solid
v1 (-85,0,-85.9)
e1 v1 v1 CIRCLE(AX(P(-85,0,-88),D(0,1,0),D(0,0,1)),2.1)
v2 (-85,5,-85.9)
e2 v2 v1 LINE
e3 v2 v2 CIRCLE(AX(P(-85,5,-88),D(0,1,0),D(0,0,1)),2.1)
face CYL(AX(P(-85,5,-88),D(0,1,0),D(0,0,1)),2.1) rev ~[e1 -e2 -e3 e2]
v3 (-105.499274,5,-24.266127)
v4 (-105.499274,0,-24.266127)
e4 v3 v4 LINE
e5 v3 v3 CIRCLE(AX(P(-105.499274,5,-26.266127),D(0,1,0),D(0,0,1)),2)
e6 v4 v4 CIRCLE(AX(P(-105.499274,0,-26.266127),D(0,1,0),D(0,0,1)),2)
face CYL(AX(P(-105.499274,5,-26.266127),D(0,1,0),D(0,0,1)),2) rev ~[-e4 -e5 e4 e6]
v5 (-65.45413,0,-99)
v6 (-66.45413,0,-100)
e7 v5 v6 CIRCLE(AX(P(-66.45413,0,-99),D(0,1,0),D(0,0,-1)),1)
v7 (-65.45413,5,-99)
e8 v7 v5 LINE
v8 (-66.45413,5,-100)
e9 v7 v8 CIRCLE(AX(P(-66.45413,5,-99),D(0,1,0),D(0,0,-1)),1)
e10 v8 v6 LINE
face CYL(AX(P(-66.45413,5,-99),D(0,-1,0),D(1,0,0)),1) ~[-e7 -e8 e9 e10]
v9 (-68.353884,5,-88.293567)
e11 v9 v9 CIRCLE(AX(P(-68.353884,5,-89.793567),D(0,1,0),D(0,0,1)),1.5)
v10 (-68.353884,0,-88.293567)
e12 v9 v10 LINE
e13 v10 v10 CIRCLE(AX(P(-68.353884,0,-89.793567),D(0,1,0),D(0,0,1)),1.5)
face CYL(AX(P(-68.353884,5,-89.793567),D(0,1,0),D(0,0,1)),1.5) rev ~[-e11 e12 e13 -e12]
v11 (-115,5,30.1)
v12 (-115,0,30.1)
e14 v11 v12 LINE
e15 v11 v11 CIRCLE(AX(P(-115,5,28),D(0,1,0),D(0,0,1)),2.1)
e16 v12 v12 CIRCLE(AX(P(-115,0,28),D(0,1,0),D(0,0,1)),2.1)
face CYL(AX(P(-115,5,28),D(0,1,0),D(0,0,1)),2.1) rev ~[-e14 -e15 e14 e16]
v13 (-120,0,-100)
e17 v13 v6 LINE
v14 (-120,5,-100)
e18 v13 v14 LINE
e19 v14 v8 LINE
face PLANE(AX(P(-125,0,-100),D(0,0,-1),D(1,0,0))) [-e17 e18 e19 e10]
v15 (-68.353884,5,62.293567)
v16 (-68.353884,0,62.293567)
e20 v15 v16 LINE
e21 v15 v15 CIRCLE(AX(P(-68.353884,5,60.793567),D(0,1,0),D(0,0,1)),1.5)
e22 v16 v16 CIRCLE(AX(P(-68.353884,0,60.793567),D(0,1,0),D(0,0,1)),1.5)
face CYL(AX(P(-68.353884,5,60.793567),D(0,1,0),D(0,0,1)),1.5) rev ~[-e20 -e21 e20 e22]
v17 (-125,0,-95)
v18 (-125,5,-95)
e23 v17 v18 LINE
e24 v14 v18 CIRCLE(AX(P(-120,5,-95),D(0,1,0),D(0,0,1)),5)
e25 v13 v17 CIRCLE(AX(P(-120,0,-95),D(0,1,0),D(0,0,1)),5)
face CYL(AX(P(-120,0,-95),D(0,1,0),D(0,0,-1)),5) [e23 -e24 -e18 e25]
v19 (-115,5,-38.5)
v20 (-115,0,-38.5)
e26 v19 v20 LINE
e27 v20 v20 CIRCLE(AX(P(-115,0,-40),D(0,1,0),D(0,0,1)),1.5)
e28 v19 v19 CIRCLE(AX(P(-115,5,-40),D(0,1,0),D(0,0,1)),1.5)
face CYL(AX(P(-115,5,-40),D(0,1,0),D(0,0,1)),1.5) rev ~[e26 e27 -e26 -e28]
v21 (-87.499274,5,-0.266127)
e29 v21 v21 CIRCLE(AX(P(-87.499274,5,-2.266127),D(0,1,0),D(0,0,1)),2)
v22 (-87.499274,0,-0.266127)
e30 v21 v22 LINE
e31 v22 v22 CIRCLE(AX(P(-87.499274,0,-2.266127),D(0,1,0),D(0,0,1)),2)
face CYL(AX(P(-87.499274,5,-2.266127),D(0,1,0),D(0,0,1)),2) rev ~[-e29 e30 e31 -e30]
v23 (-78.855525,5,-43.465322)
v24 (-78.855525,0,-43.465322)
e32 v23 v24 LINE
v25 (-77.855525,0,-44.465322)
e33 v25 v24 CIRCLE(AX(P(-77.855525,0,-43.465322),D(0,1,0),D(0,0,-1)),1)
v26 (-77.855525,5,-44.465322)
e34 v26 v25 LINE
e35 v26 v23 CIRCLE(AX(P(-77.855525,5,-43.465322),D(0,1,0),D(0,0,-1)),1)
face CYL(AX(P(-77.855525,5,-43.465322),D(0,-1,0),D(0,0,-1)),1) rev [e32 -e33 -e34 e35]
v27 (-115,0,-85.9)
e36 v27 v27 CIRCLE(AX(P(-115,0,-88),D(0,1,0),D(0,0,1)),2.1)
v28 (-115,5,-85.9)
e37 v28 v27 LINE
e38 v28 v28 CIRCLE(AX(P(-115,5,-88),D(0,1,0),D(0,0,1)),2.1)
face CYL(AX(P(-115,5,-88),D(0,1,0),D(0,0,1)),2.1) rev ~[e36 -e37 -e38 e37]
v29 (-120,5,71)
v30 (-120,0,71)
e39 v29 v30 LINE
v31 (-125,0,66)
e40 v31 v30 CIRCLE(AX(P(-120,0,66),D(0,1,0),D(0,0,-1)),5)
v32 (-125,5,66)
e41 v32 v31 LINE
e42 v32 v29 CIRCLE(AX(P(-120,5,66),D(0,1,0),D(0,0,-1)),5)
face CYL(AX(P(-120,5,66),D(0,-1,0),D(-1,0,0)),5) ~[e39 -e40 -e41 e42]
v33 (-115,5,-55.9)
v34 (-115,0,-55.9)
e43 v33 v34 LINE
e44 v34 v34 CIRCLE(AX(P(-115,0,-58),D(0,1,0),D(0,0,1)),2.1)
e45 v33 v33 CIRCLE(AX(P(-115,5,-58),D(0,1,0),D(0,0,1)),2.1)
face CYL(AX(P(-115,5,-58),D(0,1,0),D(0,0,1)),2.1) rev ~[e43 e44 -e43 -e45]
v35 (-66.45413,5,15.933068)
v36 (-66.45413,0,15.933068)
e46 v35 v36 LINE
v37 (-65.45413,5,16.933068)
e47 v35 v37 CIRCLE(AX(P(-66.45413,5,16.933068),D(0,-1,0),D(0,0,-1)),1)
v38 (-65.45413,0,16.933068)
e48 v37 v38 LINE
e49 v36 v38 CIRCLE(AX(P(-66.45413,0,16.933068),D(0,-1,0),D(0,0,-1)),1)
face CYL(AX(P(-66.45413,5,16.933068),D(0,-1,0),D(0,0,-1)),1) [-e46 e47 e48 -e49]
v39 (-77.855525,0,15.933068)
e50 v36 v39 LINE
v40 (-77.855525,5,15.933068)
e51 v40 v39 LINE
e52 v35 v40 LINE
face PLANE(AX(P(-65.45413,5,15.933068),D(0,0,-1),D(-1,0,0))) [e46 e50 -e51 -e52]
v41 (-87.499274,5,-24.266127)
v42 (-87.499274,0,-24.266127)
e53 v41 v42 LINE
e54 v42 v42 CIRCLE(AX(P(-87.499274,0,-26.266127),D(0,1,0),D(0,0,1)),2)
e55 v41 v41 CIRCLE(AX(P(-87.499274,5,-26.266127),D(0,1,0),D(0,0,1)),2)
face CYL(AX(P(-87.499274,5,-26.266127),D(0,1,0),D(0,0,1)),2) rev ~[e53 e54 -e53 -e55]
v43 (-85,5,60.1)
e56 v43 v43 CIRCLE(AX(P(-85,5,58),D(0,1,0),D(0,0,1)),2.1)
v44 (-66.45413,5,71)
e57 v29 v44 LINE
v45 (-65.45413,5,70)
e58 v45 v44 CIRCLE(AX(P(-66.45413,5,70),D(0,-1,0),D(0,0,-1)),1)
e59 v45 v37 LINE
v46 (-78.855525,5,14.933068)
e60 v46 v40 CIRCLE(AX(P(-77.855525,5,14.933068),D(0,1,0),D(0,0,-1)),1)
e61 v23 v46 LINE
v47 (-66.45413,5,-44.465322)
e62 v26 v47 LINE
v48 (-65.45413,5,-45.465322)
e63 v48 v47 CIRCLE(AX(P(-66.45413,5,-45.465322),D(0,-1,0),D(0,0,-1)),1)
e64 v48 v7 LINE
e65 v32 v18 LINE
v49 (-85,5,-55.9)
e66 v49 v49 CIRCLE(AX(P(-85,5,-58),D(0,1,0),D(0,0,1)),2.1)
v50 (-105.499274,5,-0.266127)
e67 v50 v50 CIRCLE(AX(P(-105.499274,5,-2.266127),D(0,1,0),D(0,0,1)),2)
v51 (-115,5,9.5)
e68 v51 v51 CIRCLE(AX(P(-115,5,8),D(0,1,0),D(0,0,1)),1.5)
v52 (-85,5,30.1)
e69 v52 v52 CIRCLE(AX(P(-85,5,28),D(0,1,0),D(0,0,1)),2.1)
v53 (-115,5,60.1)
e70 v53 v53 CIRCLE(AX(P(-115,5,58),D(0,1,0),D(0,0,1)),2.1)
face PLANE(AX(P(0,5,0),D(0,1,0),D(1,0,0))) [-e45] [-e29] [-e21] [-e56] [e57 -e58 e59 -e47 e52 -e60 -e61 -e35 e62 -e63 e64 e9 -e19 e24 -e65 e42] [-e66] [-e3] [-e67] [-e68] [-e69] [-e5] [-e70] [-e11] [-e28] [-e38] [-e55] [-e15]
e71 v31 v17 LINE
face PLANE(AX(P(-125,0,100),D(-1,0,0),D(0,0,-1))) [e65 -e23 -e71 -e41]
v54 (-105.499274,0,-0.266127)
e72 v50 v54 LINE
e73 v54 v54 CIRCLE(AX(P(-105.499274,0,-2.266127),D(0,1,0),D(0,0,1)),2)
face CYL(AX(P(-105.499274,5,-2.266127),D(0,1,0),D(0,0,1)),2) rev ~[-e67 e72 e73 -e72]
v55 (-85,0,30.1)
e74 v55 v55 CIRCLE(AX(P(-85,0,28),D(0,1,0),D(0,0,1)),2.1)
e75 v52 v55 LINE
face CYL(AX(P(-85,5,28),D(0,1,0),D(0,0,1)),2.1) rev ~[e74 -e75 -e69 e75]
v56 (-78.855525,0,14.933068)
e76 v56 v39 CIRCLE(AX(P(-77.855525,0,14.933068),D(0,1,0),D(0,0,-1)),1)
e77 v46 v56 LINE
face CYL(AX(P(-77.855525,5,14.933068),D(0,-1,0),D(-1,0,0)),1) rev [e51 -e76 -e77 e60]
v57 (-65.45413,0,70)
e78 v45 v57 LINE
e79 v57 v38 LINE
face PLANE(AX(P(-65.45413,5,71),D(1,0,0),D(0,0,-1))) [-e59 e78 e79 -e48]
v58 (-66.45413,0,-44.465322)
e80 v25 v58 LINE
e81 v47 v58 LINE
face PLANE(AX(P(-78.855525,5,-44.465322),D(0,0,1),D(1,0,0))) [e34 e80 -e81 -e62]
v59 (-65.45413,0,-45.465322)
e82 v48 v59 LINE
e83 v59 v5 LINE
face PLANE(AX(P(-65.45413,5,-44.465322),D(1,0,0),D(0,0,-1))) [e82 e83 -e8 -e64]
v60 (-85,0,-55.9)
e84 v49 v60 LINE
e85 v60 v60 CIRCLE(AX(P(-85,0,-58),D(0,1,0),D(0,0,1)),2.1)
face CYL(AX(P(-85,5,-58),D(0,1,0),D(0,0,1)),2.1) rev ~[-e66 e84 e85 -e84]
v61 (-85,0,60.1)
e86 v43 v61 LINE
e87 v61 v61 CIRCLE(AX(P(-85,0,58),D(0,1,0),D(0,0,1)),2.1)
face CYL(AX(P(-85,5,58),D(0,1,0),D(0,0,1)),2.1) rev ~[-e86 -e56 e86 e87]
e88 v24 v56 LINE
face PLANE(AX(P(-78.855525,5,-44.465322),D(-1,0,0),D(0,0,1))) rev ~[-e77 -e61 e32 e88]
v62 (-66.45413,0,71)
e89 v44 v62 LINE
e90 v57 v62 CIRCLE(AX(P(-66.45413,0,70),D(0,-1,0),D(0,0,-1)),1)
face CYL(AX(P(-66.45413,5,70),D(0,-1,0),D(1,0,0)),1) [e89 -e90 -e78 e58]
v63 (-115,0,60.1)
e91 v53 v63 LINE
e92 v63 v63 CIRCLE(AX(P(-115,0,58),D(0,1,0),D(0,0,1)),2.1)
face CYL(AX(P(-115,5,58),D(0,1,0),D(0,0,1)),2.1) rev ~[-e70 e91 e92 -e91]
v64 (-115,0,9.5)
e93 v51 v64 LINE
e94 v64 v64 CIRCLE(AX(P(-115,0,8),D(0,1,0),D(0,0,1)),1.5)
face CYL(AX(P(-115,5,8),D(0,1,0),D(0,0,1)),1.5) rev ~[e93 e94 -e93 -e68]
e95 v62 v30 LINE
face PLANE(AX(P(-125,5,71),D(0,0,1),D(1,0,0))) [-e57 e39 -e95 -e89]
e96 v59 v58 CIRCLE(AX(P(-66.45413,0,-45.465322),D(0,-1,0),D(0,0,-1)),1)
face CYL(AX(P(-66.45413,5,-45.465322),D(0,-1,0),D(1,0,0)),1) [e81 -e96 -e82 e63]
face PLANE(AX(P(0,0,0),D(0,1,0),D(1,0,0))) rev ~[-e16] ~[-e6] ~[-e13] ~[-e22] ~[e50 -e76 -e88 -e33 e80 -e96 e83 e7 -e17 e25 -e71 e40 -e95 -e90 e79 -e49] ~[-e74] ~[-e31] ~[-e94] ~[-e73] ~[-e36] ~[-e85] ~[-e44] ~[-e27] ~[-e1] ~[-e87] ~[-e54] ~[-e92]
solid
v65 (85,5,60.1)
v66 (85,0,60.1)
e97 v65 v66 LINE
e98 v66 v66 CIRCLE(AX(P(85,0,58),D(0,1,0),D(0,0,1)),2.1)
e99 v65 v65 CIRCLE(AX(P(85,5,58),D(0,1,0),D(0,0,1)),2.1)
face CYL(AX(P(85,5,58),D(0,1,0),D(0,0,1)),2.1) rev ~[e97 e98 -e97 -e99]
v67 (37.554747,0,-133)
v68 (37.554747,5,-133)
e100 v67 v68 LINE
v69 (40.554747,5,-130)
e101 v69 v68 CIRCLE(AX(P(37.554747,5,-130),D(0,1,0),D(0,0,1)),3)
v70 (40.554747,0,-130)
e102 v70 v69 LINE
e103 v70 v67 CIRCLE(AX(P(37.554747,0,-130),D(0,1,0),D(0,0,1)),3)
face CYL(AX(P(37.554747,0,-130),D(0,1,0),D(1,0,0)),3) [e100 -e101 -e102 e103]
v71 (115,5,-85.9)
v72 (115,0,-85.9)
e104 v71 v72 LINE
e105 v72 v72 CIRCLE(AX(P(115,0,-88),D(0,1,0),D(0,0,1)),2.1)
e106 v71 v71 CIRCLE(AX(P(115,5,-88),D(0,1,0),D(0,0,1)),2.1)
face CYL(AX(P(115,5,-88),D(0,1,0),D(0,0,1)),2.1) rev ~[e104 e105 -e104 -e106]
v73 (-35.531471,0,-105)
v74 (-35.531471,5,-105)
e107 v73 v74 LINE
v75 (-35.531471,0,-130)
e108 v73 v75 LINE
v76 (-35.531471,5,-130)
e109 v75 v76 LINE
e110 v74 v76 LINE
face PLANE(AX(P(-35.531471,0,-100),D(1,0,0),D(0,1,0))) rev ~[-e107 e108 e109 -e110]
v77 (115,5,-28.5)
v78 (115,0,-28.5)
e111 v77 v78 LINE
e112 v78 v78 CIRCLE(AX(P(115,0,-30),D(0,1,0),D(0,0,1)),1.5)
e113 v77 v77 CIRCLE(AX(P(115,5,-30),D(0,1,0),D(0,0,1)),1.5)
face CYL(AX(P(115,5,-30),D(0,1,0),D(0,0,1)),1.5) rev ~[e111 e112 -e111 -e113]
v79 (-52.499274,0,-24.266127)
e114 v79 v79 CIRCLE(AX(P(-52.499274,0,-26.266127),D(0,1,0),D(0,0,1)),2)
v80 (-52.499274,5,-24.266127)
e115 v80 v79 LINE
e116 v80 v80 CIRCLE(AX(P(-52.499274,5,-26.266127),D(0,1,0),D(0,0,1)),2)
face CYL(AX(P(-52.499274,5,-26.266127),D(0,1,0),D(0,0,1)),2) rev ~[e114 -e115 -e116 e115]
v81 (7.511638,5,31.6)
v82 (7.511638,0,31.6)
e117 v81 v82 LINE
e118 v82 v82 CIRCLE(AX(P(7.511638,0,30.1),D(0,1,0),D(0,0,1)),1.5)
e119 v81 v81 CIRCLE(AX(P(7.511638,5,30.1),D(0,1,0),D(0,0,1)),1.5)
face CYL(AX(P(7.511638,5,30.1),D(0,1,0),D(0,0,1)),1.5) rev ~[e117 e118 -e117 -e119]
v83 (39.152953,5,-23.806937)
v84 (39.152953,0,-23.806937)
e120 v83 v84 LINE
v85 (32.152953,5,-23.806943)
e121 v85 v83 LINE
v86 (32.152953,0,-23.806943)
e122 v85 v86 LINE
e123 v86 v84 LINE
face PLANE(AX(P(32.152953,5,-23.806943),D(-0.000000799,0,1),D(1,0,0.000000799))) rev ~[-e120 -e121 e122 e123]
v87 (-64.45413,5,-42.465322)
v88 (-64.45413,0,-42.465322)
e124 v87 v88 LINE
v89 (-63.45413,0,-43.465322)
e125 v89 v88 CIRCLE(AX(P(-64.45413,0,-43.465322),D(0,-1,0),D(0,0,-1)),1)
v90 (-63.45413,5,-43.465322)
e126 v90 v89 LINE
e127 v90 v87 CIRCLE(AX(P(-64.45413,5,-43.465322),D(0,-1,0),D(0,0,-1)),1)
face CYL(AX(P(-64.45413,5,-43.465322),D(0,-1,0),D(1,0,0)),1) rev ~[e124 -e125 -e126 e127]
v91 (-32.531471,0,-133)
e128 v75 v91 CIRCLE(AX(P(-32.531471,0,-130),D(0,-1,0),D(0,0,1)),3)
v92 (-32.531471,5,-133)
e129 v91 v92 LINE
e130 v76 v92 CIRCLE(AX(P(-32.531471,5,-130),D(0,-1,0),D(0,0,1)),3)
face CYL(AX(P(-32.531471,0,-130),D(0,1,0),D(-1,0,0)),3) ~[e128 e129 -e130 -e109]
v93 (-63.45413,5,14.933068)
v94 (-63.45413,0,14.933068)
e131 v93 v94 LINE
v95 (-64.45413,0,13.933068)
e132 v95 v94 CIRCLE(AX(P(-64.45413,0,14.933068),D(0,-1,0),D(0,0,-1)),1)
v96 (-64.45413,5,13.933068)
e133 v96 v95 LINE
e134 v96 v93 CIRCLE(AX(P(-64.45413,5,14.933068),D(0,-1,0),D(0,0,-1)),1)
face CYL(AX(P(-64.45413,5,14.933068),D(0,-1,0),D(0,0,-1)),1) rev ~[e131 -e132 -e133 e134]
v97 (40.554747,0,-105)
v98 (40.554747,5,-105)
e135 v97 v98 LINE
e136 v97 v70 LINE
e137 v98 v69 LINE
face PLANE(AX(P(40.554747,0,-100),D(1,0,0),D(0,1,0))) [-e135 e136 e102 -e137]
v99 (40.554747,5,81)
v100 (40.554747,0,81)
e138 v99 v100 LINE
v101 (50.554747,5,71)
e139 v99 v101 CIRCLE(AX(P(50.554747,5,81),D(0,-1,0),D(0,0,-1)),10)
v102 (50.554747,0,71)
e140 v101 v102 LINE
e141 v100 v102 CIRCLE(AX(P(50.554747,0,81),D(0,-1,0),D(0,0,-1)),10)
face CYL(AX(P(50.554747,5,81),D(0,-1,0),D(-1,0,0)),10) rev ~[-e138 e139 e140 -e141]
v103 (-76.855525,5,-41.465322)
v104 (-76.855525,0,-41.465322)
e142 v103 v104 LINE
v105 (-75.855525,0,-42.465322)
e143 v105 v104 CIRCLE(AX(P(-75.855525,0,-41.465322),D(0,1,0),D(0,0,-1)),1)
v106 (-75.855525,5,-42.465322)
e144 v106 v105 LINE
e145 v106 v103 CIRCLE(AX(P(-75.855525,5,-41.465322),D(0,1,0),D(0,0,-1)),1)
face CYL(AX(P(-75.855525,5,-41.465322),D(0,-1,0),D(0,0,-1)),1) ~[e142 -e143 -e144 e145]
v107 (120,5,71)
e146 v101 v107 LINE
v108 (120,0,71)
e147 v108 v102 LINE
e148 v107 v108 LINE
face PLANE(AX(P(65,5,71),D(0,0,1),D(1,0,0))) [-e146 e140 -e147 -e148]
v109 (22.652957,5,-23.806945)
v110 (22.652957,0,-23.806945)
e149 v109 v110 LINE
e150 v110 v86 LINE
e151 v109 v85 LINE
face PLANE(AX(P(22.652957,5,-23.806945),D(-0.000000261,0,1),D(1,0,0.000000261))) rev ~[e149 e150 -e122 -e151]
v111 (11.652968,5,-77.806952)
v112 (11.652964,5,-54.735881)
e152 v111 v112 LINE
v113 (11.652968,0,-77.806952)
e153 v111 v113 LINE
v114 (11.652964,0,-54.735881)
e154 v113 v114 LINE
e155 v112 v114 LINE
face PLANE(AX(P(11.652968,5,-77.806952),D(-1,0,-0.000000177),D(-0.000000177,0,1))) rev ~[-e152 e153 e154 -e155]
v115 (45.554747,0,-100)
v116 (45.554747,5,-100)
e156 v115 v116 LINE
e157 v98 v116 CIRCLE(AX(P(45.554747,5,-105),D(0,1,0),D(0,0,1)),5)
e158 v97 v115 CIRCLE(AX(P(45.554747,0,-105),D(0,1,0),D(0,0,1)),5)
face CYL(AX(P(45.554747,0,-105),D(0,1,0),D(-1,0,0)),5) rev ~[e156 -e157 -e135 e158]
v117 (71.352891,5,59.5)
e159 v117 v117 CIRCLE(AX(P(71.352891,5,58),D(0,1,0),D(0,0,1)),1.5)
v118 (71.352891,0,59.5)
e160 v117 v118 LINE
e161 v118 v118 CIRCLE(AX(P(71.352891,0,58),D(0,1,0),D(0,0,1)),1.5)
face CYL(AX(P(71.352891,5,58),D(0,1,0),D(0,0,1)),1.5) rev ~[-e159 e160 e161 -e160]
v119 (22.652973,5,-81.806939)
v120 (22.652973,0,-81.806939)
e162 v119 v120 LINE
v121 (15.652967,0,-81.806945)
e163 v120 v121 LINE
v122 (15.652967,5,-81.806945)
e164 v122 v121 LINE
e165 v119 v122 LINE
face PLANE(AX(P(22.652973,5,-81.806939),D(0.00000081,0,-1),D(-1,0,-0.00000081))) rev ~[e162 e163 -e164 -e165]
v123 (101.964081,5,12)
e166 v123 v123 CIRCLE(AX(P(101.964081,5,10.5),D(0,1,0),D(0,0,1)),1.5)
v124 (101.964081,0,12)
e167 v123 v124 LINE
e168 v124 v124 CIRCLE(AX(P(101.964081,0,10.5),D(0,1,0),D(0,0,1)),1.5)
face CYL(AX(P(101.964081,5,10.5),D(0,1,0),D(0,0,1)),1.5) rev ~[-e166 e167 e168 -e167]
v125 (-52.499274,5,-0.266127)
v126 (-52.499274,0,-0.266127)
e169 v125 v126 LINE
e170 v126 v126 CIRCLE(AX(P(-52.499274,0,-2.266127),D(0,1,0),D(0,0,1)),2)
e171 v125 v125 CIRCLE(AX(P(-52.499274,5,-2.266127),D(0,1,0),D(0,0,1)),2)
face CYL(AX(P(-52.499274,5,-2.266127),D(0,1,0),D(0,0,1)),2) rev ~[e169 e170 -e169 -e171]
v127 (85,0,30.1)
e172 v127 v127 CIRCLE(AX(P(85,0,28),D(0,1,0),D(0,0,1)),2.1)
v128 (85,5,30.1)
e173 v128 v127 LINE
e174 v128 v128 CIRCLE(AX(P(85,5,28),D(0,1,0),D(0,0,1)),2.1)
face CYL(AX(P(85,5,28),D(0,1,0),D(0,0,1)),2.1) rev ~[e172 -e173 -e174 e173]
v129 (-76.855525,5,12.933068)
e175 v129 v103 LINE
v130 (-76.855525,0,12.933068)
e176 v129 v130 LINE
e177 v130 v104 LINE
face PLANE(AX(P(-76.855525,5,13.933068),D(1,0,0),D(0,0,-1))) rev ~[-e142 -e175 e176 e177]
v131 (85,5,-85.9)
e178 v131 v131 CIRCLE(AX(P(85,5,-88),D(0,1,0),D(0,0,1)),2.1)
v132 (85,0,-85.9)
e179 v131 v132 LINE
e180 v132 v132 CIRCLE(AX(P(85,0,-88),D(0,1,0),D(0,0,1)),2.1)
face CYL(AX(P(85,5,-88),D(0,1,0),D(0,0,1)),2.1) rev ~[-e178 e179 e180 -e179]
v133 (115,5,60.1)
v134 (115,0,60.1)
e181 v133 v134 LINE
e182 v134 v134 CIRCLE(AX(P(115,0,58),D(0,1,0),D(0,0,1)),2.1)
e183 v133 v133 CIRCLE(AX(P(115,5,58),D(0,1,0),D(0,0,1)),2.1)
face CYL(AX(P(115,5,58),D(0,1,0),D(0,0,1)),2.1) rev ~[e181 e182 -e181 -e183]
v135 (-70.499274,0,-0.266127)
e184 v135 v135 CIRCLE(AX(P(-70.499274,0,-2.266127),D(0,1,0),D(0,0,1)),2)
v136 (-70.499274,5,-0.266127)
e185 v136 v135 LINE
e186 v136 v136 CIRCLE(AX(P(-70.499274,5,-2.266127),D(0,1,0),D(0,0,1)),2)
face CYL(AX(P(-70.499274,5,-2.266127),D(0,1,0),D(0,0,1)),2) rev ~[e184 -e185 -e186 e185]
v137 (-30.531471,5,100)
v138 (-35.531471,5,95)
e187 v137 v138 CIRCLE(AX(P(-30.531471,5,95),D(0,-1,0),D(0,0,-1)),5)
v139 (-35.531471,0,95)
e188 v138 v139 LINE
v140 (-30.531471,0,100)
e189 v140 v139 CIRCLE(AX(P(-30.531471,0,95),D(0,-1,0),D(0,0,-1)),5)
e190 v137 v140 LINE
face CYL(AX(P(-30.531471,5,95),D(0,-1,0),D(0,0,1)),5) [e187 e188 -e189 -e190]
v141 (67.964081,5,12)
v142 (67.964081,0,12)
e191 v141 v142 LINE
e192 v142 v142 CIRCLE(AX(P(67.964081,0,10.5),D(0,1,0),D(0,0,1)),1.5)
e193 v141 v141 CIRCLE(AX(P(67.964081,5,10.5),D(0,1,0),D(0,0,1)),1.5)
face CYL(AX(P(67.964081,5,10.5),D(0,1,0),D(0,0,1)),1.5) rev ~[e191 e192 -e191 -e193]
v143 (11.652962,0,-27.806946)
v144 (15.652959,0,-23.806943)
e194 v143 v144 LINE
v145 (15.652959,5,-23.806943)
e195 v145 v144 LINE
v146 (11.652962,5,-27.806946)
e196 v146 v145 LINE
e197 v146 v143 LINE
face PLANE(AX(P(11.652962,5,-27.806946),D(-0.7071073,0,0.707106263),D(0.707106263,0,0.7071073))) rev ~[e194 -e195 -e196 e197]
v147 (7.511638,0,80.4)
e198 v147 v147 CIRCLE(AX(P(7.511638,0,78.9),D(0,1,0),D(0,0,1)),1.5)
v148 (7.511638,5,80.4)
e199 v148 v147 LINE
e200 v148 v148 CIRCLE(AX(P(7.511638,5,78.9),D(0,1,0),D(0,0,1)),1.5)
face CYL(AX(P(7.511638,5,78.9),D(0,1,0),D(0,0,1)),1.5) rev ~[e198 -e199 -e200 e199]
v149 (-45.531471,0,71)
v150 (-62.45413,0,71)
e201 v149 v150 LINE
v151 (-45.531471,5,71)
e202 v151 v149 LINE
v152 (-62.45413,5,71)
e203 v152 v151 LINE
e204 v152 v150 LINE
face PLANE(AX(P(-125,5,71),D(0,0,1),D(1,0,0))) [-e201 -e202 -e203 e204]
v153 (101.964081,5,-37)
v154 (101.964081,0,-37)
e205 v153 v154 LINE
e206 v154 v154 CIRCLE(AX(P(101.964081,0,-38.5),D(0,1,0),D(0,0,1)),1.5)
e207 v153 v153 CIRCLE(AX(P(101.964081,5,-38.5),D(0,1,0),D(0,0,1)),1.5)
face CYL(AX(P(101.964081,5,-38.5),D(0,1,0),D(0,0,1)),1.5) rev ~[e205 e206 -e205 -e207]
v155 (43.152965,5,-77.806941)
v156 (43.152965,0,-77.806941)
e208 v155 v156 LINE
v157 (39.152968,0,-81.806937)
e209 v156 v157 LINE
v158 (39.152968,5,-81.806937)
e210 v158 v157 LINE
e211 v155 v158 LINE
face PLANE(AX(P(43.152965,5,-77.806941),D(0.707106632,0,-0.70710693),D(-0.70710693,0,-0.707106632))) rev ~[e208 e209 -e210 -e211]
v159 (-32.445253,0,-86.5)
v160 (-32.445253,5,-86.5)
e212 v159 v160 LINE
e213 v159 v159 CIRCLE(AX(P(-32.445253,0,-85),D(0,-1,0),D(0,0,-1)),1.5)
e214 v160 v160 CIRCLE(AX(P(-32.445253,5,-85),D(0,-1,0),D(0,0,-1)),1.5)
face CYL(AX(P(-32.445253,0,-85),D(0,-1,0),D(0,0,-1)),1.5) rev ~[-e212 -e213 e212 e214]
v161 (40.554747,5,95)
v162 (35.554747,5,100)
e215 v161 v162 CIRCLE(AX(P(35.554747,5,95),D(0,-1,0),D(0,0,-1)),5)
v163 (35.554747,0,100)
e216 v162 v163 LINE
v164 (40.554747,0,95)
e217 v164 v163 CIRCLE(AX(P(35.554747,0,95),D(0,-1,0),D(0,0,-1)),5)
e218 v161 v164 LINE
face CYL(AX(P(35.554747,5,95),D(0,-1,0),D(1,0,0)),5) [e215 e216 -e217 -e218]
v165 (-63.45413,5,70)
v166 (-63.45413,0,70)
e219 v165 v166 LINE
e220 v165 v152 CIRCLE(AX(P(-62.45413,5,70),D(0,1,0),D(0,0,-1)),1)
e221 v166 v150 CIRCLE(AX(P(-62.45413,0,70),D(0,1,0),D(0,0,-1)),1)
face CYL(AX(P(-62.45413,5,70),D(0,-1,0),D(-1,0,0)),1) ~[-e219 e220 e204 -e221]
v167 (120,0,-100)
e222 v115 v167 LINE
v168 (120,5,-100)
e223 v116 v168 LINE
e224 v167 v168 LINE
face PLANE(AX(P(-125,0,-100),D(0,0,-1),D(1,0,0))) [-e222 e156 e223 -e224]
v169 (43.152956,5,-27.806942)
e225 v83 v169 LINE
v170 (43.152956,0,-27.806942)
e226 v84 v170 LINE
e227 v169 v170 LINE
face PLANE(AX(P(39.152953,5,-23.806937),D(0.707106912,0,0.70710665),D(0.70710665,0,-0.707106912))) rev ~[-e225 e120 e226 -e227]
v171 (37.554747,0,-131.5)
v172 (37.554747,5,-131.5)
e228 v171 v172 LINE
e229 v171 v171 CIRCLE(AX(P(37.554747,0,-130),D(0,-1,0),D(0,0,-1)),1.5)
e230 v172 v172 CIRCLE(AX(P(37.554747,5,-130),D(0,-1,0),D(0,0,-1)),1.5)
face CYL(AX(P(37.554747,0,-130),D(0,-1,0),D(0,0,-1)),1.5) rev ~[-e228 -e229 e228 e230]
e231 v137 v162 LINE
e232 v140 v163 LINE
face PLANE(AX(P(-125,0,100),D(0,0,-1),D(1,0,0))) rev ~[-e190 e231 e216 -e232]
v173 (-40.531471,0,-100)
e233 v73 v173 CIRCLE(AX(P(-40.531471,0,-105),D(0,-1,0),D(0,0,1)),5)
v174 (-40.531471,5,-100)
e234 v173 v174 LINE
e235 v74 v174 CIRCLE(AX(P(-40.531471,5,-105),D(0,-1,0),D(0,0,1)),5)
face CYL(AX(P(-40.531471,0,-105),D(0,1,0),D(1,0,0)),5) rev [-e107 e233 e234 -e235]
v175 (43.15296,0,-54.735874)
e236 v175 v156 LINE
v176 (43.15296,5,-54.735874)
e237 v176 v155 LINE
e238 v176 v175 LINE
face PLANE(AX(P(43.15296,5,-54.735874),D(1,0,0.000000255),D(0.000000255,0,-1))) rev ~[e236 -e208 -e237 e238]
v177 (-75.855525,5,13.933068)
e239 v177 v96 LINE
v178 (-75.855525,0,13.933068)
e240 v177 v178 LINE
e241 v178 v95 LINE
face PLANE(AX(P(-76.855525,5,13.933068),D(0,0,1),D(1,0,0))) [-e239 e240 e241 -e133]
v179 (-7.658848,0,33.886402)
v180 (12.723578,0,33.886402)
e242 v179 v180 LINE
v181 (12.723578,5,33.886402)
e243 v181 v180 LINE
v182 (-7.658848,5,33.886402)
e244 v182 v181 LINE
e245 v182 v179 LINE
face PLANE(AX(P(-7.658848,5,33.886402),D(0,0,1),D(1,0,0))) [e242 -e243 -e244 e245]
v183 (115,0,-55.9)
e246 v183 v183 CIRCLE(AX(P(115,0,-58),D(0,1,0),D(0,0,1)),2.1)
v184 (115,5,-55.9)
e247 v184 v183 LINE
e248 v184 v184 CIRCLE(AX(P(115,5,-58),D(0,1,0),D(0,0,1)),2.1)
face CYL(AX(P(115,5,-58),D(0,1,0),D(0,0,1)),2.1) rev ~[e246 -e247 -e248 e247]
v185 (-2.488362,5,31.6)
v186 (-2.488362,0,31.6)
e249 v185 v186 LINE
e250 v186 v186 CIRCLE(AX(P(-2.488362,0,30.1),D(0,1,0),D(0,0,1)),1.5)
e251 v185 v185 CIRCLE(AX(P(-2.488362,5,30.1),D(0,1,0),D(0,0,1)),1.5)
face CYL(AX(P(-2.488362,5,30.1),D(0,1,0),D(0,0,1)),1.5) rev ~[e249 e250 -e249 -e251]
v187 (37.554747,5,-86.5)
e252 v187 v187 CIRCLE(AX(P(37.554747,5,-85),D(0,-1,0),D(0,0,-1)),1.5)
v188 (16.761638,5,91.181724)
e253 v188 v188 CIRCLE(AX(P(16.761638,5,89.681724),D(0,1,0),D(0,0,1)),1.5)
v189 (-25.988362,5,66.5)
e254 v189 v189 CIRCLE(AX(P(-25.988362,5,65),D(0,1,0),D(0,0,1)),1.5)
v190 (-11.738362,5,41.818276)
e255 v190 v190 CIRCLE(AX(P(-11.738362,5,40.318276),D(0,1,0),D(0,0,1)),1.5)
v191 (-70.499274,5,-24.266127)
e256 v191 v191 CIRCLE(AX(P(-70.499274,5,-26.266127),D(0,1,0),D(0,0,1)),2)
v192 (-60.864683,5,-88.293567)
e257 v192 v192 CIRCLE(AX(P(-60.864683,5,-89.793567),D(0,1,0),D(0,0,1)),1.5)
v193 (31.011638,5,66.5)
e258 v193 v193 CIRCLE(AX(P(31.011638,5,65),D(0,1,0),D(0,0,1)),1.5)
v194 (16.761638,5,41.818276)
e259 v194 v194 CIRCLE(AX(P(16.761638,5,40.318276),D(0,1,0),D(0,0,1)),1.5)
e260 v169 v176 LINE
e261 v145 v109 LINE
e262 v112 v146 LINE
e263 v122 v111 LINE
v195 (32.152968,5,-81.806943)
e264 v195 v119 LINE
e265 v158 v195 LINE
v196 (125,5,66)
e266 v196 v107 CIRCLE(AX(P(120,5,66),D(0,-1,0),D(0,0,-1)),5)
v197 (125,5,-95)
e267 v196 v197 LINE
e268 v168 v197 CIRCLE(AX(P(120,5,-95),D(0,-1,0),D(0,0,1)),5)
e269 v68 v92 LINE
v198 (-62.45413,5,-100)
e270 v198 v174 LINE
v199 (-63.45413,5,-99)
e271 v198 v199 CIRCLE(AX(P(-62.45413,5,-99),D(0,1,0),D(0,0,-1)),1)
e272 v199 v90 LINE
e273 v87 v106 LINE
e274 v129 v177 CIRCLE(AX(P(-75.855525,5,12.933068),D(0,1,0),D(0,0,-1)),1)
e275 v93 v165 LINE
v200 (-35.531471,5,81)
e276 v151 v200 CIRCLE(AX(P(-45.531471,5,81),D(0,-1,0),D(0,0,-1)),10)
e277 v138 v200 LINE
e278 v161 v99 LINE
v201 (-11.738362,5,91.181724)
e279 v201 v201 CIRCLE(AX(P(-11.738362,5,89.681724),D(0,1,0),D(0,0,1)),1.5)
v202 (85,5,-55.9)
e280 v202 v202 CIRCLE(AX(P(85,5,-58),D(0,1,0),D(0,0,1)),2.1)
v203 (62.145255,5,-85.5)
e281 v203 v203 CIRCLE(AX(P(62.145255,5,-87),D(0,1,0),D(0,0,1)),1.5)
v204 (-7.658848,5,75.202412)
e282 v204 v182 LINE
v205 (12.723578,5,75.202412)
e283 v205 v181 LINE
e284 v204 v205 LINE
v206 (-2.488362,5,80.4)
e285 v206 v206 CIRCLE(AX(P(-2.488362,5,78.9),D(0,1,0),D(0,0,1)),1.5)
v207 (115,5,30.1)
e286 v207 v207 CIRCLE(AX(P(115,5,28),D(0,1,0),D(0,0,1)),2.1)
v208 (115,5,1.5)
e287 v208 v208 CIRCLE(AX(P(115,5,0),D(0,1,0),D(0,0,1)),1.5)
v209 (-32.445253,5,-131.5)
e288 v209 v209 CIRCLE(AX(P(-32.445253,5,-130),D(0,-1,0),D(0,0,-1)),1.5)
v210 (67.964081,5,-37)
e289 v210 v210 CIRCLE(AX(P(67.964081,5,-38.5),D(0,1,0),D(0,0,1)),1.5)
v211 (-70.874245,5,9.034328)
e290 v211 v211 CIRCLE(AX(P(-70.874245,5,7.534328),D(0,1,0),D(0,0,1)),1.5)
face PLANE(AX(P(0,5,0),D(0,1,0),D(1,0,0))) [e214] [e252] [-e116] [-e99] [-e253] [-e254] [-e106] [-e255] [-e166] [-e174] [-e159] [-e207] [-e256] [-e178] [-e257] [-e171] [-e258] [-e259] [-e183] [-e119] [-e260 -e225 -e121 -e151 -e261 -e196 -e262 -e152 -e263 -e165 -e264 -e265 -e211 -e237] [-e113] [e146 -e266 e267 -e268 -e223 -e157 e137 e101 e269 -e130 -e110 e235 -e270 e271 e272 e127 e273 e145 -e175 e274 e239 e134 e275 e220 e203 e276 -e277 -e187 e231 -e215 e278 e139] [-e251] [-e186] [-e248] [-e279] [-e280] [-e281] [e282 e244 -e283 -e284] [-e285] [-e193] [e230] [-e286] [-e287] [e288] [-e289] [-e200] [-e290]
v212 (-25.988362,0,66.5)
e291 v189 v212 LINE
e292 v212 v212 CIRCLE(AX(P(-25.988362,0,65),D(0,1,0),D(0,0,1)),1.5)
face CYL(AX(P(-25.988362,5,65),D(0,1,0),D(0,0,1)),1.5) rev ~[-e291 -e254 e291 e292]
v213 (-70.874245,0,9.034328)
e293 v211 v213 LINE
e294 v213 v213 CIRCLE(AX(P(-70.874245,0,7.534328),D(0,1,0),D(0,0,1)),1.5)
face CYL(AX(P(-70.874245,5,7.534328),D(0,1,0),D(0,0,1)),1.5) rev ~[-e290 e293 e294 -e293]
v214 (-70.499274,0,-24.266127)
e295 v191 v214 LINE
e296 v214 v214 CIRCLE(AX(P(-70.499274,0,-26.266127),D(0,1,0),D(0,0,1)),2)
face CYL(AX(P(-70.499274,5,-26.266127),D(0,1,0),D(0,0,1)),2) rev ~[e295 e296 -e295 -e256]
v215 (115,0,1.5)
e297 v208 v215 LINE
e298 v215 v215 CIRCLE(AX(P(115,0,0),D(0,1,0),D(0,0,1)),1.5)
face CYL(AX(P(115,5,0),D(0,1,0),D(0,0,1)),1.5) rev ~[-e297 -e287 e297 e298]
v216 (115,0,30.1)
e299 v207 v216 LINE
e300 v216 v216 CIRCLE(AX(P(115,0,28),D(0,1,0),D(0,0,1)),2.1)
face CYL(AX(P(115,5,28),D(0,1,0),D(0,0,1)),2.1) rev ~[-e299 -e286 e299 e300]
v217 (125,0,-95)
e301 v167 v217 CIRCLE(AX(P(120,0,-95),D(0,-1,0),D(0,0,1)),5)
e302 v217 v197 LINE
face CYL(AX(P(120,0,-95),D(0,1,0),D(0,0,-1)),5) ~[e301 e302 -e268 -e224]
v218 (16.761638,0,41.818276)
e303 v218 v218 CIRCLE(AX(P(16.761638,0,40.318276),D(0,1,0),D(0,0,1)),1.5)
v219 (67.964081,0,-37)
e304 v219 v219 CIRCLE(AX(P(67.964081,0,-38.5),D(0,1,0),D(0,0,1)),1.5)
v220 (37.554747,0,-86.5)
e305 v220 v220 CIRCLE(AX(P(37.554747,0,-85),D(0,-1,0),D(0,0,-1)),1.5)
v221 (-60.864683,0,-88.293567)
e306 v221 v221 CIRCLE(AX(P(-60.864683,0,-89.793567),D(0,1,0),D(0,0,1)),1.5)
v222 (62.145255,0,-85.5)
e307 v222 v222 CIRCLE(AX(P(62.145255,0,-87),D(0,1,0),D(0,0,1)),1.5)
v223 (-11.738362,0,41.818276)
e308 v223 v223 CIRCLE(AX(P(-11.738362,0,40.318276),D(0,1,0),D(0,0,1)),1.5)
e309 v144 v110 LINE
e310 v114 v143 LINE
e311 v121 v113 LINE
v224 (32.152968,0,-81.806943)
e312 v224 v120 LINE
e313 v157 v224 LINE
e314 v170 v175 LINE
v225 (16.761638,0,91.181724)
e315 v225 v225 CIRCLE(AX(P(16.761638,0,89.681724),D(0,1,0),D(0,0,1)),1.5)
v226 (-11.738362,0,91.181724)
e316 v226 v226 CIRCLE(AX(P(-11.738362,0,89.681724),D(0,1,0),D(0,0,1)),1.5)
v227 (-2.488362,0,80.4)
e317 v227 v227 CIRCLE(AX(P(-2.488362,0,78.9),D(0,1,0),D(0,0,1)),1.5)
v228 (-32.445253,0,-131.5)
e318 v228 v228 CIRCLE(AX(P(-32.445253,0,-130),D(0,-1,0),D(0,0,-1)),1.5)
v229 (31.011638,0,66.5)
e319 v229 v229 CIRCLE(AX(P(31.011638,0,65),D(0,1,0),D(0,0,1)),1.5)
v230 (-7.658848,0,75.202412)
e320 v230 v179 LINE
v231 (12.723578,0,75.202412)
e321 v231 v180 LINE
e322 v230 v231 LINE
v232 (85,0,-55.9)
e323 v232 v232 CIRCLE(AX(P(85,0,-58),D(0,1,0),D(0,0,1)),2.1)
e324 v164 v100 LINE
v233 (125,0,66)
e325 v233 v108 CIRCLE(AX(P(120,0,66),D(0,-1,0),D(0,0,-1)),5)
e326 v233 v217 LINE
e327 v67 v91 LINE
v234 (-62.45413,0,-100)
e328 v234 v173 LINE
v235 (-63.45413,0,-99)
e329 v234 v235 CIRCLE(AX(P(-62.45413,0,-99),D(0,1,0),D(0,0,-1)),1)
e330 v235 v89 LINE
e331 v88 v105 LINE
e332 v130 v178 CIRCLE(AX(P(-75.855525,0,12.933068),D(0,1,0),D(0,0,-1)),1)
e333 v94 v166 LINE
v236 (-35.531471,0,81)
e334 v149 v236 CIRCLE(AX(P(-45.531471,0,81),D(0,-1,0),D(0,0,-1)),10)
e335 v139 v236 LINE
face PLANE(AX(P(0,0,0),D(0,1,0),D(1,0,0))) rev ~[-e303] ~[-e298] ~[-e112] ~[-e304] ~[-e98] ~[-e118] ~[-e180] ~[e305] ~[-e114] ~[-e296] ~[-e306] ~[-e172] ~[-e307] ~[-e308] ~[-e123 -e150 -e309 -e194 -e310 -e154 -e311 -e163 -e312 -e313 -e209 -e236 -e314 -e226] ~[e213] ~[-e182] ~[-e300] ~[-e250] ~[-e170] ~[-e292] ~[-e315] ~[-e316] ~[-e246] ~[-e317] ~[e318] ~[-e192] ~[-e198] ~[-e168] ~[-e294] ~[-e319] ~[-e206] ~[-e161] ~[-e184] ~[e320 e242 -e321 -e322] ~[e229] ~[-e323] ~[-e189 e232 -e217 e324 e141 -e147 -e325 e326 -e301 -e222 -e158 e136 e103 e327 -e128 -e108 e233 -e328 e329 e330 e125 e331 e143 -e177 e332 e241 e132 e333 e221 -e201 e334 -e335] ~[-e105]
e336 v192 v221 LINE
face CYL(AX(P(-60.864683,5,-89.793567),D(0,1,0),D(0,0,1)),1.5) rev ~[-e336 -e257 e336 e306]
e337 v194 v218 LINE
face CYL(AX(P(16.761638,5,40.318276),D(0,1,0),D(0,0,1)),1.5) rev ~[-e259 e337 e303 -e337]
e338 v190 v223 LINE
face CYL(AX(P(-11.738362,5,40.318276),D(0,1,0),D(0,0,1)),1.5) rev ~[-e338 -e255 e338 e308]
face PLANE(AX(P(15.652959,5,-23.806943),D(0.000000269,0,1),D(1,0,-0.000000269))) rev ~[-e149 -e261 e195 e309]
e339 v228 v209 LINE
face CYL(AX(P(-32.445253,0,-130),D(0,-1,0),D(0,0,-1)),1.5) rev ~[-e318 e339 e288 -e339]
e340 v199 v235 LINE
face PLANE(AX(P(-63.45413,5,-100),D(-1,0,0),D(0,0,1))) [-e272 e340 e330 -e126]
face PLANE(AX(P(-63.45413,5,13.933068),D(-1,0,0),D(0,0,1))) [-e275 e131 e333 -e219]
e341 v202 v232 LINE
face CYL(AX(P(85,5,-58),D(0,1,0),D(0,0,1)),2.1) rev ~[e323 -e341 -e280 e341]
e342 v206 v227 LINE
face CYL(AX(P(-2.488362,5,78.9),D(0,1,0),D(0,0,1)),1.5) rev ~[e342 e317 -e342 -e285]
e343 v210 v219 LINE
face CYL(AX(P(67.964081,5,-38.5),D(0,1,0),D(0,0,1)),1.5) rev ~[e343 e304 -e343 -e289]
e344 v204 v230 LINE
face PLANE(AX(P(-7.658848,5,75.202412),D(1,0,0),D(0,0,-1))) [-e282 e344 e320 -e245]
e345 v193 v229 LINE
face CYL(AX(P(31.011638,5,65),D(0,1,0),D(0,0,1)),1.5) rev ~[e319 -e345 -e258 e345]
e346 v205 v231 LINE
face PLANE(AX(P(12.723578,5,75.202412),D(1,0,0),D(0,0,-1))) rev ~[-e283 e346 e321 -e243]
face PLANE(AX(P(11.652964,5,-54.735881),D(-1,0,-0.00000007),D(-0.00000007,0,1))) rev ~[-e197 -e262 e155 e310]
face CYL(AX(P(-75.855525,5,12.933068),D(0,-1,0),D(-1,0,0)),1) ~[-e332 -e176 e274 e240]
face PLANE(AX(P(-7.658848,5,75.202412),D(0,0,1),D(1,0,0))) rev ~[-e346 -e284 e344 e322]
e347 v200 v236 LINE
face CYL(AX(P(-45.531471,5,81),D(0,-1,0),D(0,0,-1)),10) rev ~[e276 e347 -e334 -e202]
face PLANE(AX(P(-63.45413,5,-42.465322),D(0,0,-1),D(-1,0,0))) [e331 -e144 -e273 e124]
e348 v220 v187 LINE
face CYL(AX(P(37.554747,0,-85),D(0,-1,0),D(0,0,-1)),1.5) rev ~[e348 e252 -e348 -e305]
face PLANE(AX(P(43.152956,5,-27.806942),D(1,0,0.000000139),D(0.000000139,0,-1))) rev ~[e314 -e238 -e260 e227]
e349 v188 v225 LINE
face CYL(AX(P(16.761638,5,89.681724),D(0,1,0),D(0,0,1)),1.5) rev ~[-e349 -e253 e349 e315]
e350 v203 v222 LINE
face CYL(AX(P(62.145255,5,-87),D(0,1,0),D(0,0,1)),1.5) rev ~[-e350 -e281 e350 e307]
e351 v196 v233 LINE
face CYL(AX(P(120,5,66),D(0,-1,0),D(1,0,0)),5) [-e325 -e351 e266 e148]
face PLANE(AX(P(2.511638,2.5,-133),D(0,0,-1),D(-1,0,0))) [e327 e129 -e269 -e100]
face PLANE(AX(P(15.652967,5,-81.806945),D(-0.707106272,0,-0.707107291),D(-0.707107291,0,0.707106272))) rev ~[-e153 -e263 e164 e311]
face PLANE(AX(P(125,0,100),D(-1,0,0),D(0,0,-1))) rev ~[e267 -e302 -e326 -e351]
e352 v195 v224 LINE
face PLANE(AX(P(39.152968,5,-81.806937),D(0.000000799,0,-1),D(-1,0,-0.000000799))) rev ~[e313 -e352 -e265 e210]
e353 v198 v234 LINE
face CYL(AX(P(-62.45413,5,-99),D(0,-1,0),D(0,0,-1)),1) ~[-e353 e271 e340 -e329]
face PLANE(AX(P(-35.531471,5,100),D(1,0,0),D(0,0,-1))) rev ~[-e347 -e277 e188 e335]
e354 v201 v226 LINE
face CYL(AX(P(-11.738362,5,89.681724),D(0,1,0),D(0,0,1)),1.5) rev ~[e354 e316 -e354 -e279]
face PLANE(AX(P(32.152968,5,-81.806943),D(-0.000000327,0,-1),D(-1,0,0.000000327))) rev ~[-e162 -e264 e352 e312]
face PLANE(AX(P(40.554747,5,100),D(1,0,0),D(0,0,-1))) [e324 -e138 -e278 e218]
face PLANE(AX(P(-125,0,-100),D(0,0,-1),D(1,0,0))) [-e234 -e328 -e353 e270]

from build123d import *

# Parameters (mm, degrees)
SKETCH_1_W           = 250
SKETCH_1_H           = 200
EXTRUDE_1_DEPTH      = 5
SKETCH_2_W           = 62
SKETCH_2_H           = 29
SKETCH_2_W_2         = 60
CUT_EXTRUDE_1_DEPTH  = 161.15617378
SKETCH_12_R          = 2.1
CUT_EXTRUDE_11_DEPTH = 10
SKETCH_15_R          = 1.5
CUT_EXTRUDE_14_DEPTH = 15
SKETCH_16_W          = 24.445253359
SKETCH_16_H          = 29
SKETCH_16_W_2        = 27.468529174
CUT_EXTRUDE_15_DEPTH = 15
FILLET_1_R           = 10
SKETCH_20_W          = 76.086217467
SKETCH_20_H          = 5
EXTRUDE_3_DEPTH      = 33
FILLET_3_R           = 3
FILLET_4_R           = 5
SKETCH_25_W          = 20.382425605
SKETCH_25_H          = 41.31601021
CUT_EXTRUDE_19_DEPTH = 10
SKETCH_26_R          = 1.5
CUT_EXTRUDE_20_DEPTH = 10
CUT_EXTRUDE_22_DEPTH = 10
SKETCH_27_R          = 2
CUT_EXTRUDE_21_DEPTH = 10
FILLET_5_R           = 1
FILLET_6_R           = 1
SKETCH_29_R          = 1.5
CUT_EXTRUDE_23_DEPTH = 10
SKETCH_30_R          = 1.5
CUT_EXTRUDE_24_DEPTH = 10
SKETCH_32_R          = 1.5
CUT_EXTRUDE_27_DEPTH = 5
CUT_EXTRUDE_30_DEPTH = 5
SKETCH_39_R          = 1.5
CUT_EXTRUDE_31_DEPTH = 5


with BuildPart() as part:
    # 草图1 → 凸台-拉伸1 (new body)
    with BuildSketch(Plane(origin=(0, 0, 0), x_dir=(1, 0, 0), z_dir=(0, 1, 0))):
        Rectangle(SKETCH_1_W, SKETCH_1_H)
    extrude(amount=EXTRUDE_1_DEPTH)

    # 草图2 → 切除-拉伸1 (cut, through all)
    with BuildSketch(Plane(origin=(0, 5, 0), x_dir=(1, 0, 0), z_dir=(0, 1, 0))):
        with Locations((-94, -85.5)):
            Rectangle(SKETCH_2_W, SKETCH_2_H)
        with Locations((95, -85.5)):
            Rectangle(SKETCH_2_W_2, SKETCH_2_H)
    extrude(amount=-CUT_EXTRUDE_1_DEPTH, mode=Mode.SUBTRACT)

    # 草图12 → 切除-拉伸11 (cut)
    with BuildSketch(Plane(origin=(0, 5, 0), x_dir=(1, 0, 0), z_dir=(0, 1, 0))):
        with Locations(Location((85, -28, 0), (0, 0, 270))):
            Circle(SKETCH_12_R)
        with Locations(Location((115, -28, 0), (0, 0, 270))):
            Circle(SKETCH_12_R)
        with Locations(Location((115, -58, 0), (0, 0, 270))):
            Circle(SKETCH_12_R)
        with Locations(Location((85, -58, 0), (0, 0, 270))):
            Circle(SKETCH_12_R)
        with Locations(Location((-115, -28, 0), (0, 0, 270))):
            Circle(SKETCH_12_R)
        with Locations(Location((-85, -28, 0), (0, 0, 270))):
            Circle(SKETCH_12_R)
        with Locations(Location((-85, -58, 0), (0, 0, 270))):
            Circle(SKETCH_12_R)
        with Locations(Location((-115, -58, 0), (0, 0, 270))):
            Circle(SKETCH_12_R)
        with Locations(Location((-115, 88, 0), (0, 0, 270))):
            Circle(SKETCH_12_R)
        with Locations(Location((-85, 88, 0), (0, 0, 270))):
            Circle(SKETCH_12_R)
        with Locations(Location((-115, 58, 0), (0, 0, 270))):
            Circle(SKETCH_12_R)
        with Locations(Location((-85, 58, 0), (0, 0, 270))):
            Circle(SKETCH_12_R)
        with Locations(Location((115, 88, 0), (0, 0, 270))):
            Circle(SKETCH_12_R)
        with Locations(Location((85, 88, 0), (0, 0, 270))):
            Circle(SKETCH_12_R)
        with Locations(Location((115, 58, 0), (0, 0, 270))):
            Circle(SKETCH_12_R)
        with Locations(Location((85, 58, 0), (0, 0, 270))):
            Circle(SKETCH_12_R)
    extrude(amount=-CUT_EXTRUDE_11_DEPTH, mode=Mode.SUBTRACT)

    # 草图15 → 切除-拉伸14 (cut)
    with BuildSketch(Plane(origin=(0, 5, 0), x_dir=(1, 0, 0), z_dir=(0, 1, 0))):
        with Locations(Location((-115, 40, 0), (0, 0, 270))):
            Circle(SKETCH_15_R)
        with Locations(Location((-115, -8, 0), (0, 0, 270))):
            Circle(SKETCH_15_R)
        with Locations(Location((115, 0, 0), (0, 0, 270))):
            Circle(SKETCH_15_R)
        with Locations(Location((115, 30, 0), (0, 0, 270))):
            Circle(SKETCH_15_R)
        with Locations(Location((-68.353884334, -60.793566597, 0), (0, 0, 270))):
            Circle(SKETCH_15_R)
        with Locations(Location((-68.353884334, 89.793566597, 0), (0, 0, 270))):
            Circle(SKETCH_15_R)
        with Locations(Location((62.145255031, 87, 0), (0, 0, 270))):
            Circle(SKETCH_15_R)
        with Locations(Location((71.352890761, -58, 0), (0, 0, 270))):
            Circle(SKETCH_15_R)
    extrude(amount=-CUT_EXTRUDE_14_DEPTH, mode=Mode.SUBTRACT)

    # 草图16 → 切除-拉伸15 (cut)
    with BuildSketch(Plane(origin=(0, 5, 0), x_dir=(1, 0, 0), z_dir=(0, 1, 0))):
        with Locations((52.777373321, -85.5)):
            Rectangle(SKETCH_16_W, SKETCH_16_H)
        with Locations((-49.265735413, -85.5)):
            Rectangle(SKETCH_16_W_2, SKETCH_16_H)
    extrude(amount=-CUT_EXTRUDE_15_DEPTH, mode=Mode.SUBTRACT)

    # 圆角1
    fillet_1_edges = [part.edges().sort_by_distance(p)[0] for p in [
        (40.554746641, 2.5, 71),
        (-35.531470826, 2.5, 71),
    ]]
    fillet(fillet_1_edges, radius=FILLET_1_R)

    # 草图20 → 凸台-拉伸3 (add)
    with BuildSketch(Plane(origin=(0, 0, -100), x_dir=(-1, 0, 0), z_dir=(0, 0, -1))):
        with Locations((-2.511637907, 2.5)):
            Rectangle(SKETCH_20_W, SKETCH_20_H)
    extrude(amount=EXTRUDE_3_DEPTH)

    # 圆角3
    fillet_3_edges = [part.edges().sort_by_distance(p)[0] for p in [
        (40.554746641, 2.5, -133),
        (-35.531470826, 2.5, -133),
    ]]
    fillet(fillet_3_edges, radius=FILLET_3_R)

    # 圆角4
    fillet_4_edges = [part.edges().sort_by_distance(p)[0] for p in [
        (40.554746641, 2.5, 100),
        (-35.531470826, 2.5, 100),
        (40.554746641, 2.5, -100),
        (-35.531470826, 2.5, -100),
        (-125, 2.5, 71),
        (125, 2.5, 71),
        (-125, 2.5, -100),
        (125, 2.5, -100),
    ]]
    fillet(fillet_4_edges, radius=FILLET_4_R)

    # 草图25 → 切除-拉伸19 (cut)
    with BuildSketch(Plane(origin=(0, 5, 0), x_dir=(1, 0, 0), z_dir=(0, 1, 0))):
        with Locations((2.532364767, -54.544407129)):
            Rectangle(SKETCH_25_W, SKETCH_25_H)
    extrude(amount=-CUT_EXTRUDE_19_DEPTH, mode=Mode.SUBTRACT)

    # 草图26 → 切除-拉伸20 (cut)
    with BuildSketch(Plane(origin=(0, 5, 0), x_dir=(1, 0, 0), z_dir=(0, 1, 0))):
        with Locations(Location((-25.988362093, -65, 0), (0, 0, 270))):
            Circle(SKETCH_26_R)
        with Locations(Location((-11.738362093, -40.318275992, 0), (0, 0, 270))):
            Circle(SKETCH_26_R)
        with Locations(Location((16.761637907, -40.318275992, 0), (0, 0, 270))):
            Circle(SKETCH_26_R)
        with Locations(Location((31.011637907, -65, 0), (0, 0, 270))):
            Circle(SKETCH_26_R)
        with Locations(Location((16.761637907, -89.681724008, 0), (0, 0, 270))):
            Circle(SKETCH_26_R)
        with Locations(Location((-11.738362093, -89.681724008, 0), (0, 0, 270))):
            Circle(SKETCH_26_R)
        with Locations(Location((-2.488362093, -30.1, 0), (0, 0, 270))):
            Circle(SKETCH_26_R)
        with Locations(Location((7.511637907, -30.1, 0), (0, 0, 270))):
            Circle(SKETCH_26_R)
        with Locations(Location((-2.488362093, -78.9, 0), (0, 0, 270))):
            Circle(SKETCH_26_R)
        with Locations(Location((7.511637907, -78.9, 0), (0, 0, 270))):
            Circle(SKETCH_26_R)
    extrude(amount=-CUT_EXTRUDE_20_DEPTH, mode=Mode.SUBTRACT)

    # 草图28 → 切除-拉伸22 (cut)
    with BuildSketch(Plane(origin=(0, 5, 0), x_dir=(1, 0, 0), z_dir=(0, 1, 0))):
        Polygon((-63.454130163, 100), (-63.454130163, 42.465322203), (-76.855525146, 42.465322203), (-76.855525146, 26.266126934), (-76.855525146, 2.266126934), (-76.855525146, -13.933068336), (-63.454130163, -13.933068336), (-63.454130163, -71), (-65.454130163, -71), (-65.454130163, -15.933068336), (-78.855525146, -15.933068336), (-78.855525146, 2.266126934), (-78.855525146, 26.266126934), (-78.855525146, 44.465322203), (-65.454130163, 44.465322203), (-65.454130163, 100), align=None)
    extrude(amount=-CUT_EXTRUDE_22_DEPTH, mode=Mode.SUBTRACT)


with BuildPart() as cut_extrude_22_piece_1:
    # of the separate pieces the step leaves, piece 1, a body of its own (cut_extrude_22_pieces)
    add(part.part.solids().sort_by_distance((-35.531470826, 5, -105))[0])


with BuildPart() as cut_extrude_22_piece_2:
    # of the separate pieces the step leaves, piece 2, a body of its own (cut_extrude_22_pieces)
    add(part.part.solids().sort_by_distance((-120, 5, -100))[0])


with BuildPart() as cut_extrude_21_tool:
    # 草图27 → 切除-拉伸21 (new body)
    with BuildSketch(Plane(origin=(0, 5, 0), x_dir=(1, 0, 0), z_dir=(0, 1, 0))):
        with Locations(Location((-70.499273913, 2.266126934, 0), (0, 0, 270))):
            Circle(SKETCH_27_R)
        with Locations(Location((-70.499273913, 26.266126934, 0), (0, 0, 270))):
            Circle(SKETCH_27_R)
        with Locations(Location((-52.499273913, 2.266126934, 0), (0, 0, 270))):
            Circle(SKETCH_27_R)
        with Locations(Location((-52.499273913, 26.266126934, 0), (0, 0, 270))):
            Circle(SKETCH_27_R)
        with Locations(Location((-105.499273913, 2.266126934, 0), (0, 0, 270))):
            Circle(SKETCH_27_R)
        with Locations(Location((-87.499273913, 2.266126934, 0), (0, 0, 270))):
            Circle(SKETCH_27_R)
        with Locations(Location((-105.499273913, 26.266126934, 0), (0, 0, 270))):
            Circle(SKETCH_27_R)
        with Locations(Location((-87.499273913, 26.266126934, 0), (0, 0, 270))):
            Circle(SKETCH_27_R)
    extrude(amount=-CUT_EXTRUDE_21_DEPTH)


with BuildPart() as cut_extrude_22_piece_1_1:
    add(cut_extrude_22_piece_1.part)

    # 切除-拉伸21: cut by cut_extrude_21_tool
    add(cut_extrude_21_tool.part, mode=Mode.SUBTRACT)

    # 圆角6
    fillet_6_edges = [cut_extrude_22_piece_1_1.edges().sort_by_distance(p)[0] for p in [
        (-63.454130163, 2.5, -100),
        (-63.454130163, 2.5, -42.465322203),
        (-76.855525146, 2.5, -42.465322203),
        (-76.855525146, 2.5, 13.933068336),
        (-63.454130163, 2.5, 13.933068336),
        (-63.454130163, 2.5, 71),
    ]]
    fillet(fillet_6_edges, radius=FILLET_6_R)

    # 草图29 → 切除-拉伸23 (cut)
    with BuildSketch(Plane(origin=(0, 5, 0), x_dir=(1, 0, 0), z_dir=(0, 1, 0))):
        with Locations(Location((-60.864682609, 89.793566597, 0), (0, 0, 270))):
            Circle(SKETCH_29_R)
    extrude(amount=-CUT_EXTRUDE_23_DEPTH, mode=Mode.SUBTRACT)

    # 草图30 → 切除-拉伸24 (cut)
    with BuildSketch(Plane(origin=(0, 5, 0), x_dir=(1, 0, 0), z_dir=(0, 1, 0))):
        with Locations(Location((-70.874244833, -7.534328491, 0), (0, 0, 270))):
            Circle(SKETCH_30_R)
    extrude(amount=-CUT_EXTRUDE_24_DEPTH, mode=Mode.SUBTRACT)

    # 草图32 → 切除-拉伸27 (cut)
    with BuildSketch(Plane(origin=(0, 5, 0), x_dir=(1, 0, 0), z_dir=(0, 1, 0))):
        with Locations(Location((67.964081229, 38.5, 0), (0, 0, 270))):
            Circle(SKETCH_32_R)
        with Locations(Location((67.964081229, -10.5, 0), (0, 0, 270))):
            Circle(SKETCH_32_R)
        with Locations(Location((101.964081229, 38.5, 0), (0, 0, 270))):
            Circle(SKETCH_32_R)
        with Locations(Location((101.964081229, -10.5, 0), (0, 0, 270))):
            Circle(SKETCH_32_R)
    extrude(amount=-CUT_EXTRUDE_27_DEPTH, mode=Mode.SUBTRACT)

    # 草图36 → 切除-拉伸30 (cut)
    with BuildSketch(Plane(origin=(0, 5, 0), x_dir=(1, 0, 0), z_dir=(0, 1, 0))):
        Polygon((15.652967236, 81.806945115), (11.652967906, 77.806951551), (11.652963832, 54.735880974), (11.652961938, 27.806946201), (15.652959177, 23.806943096), (22.652957242, 23.806944978), (32.15295282, 23.806942501), (39.152952649, 23.806936909), (43.152955853, 27.806941598), (43.152959585, 54.735874484), (43.152965472, 77.806941311), (39.152968134, 81.806936966), (32.152968305, 81.806942558), (22.652972653, 81.806939448), align=None)
    extrude(amount=-CUT_EXTRUDE_30_DEPTH, mode=Mode.SUBTRACT)

    # 草图39 → 切除-拉伸31 (cut)
    with BuildSketch(Plane.XZ):
        with Locations(Location((-32.445253359, -130, 0), (0, 0, 270))):
            Circle(SKETCH_39_R)
        with Locations(Location((-32.445253359, -85, 0), (0, 0, 270))):
            Circle(SKETCH_39_R)
        with Locations(Location((37.554746641, -130, 0), (0, 0, 270))):
            Circle(SKETCH_39_R)
        with Locations(Location((37.554746641, -85, 0), (0, 0, 270))):
            Circle(SKETCH_39_R)
    extrude(amount=-CUT_EXTRUDE_31_DEPTH, mode=Mode.SUBTRACT)


with BuildPart() as cut_extrude_22_piece_2_1:
    add(cut_extrude_22_piece_2.part)

    # 切除-拉伸21: cut by cut_extrude_21_tool
    add(cut_extrude_21_tool.part, mode=Mode.SUBTRACT)

    # 圆角5
    fillet_5_edges = [cut_extrude_22_piece_2_1.edges().sort_by_distance(p)[0] for p in [
        (-65.454130163, 2.5, 71),
        (-65.454130163, 2.5, -100),
        (-65.454130163, 2.5, 15.933068336),
        (-78.855525146, 2.5, 15.933068336),
        (-78.855525146, 2.5, -44.465322203),
        (-65.454130163, 2.5, -44.465322203),
    ]]
    fillet(fillet_5_edges, radius=FILLET_5_R)


solid = Compound([cut_extrude_22_piece_1_1.part, cut_extrude_22_piece_2_1.part])
